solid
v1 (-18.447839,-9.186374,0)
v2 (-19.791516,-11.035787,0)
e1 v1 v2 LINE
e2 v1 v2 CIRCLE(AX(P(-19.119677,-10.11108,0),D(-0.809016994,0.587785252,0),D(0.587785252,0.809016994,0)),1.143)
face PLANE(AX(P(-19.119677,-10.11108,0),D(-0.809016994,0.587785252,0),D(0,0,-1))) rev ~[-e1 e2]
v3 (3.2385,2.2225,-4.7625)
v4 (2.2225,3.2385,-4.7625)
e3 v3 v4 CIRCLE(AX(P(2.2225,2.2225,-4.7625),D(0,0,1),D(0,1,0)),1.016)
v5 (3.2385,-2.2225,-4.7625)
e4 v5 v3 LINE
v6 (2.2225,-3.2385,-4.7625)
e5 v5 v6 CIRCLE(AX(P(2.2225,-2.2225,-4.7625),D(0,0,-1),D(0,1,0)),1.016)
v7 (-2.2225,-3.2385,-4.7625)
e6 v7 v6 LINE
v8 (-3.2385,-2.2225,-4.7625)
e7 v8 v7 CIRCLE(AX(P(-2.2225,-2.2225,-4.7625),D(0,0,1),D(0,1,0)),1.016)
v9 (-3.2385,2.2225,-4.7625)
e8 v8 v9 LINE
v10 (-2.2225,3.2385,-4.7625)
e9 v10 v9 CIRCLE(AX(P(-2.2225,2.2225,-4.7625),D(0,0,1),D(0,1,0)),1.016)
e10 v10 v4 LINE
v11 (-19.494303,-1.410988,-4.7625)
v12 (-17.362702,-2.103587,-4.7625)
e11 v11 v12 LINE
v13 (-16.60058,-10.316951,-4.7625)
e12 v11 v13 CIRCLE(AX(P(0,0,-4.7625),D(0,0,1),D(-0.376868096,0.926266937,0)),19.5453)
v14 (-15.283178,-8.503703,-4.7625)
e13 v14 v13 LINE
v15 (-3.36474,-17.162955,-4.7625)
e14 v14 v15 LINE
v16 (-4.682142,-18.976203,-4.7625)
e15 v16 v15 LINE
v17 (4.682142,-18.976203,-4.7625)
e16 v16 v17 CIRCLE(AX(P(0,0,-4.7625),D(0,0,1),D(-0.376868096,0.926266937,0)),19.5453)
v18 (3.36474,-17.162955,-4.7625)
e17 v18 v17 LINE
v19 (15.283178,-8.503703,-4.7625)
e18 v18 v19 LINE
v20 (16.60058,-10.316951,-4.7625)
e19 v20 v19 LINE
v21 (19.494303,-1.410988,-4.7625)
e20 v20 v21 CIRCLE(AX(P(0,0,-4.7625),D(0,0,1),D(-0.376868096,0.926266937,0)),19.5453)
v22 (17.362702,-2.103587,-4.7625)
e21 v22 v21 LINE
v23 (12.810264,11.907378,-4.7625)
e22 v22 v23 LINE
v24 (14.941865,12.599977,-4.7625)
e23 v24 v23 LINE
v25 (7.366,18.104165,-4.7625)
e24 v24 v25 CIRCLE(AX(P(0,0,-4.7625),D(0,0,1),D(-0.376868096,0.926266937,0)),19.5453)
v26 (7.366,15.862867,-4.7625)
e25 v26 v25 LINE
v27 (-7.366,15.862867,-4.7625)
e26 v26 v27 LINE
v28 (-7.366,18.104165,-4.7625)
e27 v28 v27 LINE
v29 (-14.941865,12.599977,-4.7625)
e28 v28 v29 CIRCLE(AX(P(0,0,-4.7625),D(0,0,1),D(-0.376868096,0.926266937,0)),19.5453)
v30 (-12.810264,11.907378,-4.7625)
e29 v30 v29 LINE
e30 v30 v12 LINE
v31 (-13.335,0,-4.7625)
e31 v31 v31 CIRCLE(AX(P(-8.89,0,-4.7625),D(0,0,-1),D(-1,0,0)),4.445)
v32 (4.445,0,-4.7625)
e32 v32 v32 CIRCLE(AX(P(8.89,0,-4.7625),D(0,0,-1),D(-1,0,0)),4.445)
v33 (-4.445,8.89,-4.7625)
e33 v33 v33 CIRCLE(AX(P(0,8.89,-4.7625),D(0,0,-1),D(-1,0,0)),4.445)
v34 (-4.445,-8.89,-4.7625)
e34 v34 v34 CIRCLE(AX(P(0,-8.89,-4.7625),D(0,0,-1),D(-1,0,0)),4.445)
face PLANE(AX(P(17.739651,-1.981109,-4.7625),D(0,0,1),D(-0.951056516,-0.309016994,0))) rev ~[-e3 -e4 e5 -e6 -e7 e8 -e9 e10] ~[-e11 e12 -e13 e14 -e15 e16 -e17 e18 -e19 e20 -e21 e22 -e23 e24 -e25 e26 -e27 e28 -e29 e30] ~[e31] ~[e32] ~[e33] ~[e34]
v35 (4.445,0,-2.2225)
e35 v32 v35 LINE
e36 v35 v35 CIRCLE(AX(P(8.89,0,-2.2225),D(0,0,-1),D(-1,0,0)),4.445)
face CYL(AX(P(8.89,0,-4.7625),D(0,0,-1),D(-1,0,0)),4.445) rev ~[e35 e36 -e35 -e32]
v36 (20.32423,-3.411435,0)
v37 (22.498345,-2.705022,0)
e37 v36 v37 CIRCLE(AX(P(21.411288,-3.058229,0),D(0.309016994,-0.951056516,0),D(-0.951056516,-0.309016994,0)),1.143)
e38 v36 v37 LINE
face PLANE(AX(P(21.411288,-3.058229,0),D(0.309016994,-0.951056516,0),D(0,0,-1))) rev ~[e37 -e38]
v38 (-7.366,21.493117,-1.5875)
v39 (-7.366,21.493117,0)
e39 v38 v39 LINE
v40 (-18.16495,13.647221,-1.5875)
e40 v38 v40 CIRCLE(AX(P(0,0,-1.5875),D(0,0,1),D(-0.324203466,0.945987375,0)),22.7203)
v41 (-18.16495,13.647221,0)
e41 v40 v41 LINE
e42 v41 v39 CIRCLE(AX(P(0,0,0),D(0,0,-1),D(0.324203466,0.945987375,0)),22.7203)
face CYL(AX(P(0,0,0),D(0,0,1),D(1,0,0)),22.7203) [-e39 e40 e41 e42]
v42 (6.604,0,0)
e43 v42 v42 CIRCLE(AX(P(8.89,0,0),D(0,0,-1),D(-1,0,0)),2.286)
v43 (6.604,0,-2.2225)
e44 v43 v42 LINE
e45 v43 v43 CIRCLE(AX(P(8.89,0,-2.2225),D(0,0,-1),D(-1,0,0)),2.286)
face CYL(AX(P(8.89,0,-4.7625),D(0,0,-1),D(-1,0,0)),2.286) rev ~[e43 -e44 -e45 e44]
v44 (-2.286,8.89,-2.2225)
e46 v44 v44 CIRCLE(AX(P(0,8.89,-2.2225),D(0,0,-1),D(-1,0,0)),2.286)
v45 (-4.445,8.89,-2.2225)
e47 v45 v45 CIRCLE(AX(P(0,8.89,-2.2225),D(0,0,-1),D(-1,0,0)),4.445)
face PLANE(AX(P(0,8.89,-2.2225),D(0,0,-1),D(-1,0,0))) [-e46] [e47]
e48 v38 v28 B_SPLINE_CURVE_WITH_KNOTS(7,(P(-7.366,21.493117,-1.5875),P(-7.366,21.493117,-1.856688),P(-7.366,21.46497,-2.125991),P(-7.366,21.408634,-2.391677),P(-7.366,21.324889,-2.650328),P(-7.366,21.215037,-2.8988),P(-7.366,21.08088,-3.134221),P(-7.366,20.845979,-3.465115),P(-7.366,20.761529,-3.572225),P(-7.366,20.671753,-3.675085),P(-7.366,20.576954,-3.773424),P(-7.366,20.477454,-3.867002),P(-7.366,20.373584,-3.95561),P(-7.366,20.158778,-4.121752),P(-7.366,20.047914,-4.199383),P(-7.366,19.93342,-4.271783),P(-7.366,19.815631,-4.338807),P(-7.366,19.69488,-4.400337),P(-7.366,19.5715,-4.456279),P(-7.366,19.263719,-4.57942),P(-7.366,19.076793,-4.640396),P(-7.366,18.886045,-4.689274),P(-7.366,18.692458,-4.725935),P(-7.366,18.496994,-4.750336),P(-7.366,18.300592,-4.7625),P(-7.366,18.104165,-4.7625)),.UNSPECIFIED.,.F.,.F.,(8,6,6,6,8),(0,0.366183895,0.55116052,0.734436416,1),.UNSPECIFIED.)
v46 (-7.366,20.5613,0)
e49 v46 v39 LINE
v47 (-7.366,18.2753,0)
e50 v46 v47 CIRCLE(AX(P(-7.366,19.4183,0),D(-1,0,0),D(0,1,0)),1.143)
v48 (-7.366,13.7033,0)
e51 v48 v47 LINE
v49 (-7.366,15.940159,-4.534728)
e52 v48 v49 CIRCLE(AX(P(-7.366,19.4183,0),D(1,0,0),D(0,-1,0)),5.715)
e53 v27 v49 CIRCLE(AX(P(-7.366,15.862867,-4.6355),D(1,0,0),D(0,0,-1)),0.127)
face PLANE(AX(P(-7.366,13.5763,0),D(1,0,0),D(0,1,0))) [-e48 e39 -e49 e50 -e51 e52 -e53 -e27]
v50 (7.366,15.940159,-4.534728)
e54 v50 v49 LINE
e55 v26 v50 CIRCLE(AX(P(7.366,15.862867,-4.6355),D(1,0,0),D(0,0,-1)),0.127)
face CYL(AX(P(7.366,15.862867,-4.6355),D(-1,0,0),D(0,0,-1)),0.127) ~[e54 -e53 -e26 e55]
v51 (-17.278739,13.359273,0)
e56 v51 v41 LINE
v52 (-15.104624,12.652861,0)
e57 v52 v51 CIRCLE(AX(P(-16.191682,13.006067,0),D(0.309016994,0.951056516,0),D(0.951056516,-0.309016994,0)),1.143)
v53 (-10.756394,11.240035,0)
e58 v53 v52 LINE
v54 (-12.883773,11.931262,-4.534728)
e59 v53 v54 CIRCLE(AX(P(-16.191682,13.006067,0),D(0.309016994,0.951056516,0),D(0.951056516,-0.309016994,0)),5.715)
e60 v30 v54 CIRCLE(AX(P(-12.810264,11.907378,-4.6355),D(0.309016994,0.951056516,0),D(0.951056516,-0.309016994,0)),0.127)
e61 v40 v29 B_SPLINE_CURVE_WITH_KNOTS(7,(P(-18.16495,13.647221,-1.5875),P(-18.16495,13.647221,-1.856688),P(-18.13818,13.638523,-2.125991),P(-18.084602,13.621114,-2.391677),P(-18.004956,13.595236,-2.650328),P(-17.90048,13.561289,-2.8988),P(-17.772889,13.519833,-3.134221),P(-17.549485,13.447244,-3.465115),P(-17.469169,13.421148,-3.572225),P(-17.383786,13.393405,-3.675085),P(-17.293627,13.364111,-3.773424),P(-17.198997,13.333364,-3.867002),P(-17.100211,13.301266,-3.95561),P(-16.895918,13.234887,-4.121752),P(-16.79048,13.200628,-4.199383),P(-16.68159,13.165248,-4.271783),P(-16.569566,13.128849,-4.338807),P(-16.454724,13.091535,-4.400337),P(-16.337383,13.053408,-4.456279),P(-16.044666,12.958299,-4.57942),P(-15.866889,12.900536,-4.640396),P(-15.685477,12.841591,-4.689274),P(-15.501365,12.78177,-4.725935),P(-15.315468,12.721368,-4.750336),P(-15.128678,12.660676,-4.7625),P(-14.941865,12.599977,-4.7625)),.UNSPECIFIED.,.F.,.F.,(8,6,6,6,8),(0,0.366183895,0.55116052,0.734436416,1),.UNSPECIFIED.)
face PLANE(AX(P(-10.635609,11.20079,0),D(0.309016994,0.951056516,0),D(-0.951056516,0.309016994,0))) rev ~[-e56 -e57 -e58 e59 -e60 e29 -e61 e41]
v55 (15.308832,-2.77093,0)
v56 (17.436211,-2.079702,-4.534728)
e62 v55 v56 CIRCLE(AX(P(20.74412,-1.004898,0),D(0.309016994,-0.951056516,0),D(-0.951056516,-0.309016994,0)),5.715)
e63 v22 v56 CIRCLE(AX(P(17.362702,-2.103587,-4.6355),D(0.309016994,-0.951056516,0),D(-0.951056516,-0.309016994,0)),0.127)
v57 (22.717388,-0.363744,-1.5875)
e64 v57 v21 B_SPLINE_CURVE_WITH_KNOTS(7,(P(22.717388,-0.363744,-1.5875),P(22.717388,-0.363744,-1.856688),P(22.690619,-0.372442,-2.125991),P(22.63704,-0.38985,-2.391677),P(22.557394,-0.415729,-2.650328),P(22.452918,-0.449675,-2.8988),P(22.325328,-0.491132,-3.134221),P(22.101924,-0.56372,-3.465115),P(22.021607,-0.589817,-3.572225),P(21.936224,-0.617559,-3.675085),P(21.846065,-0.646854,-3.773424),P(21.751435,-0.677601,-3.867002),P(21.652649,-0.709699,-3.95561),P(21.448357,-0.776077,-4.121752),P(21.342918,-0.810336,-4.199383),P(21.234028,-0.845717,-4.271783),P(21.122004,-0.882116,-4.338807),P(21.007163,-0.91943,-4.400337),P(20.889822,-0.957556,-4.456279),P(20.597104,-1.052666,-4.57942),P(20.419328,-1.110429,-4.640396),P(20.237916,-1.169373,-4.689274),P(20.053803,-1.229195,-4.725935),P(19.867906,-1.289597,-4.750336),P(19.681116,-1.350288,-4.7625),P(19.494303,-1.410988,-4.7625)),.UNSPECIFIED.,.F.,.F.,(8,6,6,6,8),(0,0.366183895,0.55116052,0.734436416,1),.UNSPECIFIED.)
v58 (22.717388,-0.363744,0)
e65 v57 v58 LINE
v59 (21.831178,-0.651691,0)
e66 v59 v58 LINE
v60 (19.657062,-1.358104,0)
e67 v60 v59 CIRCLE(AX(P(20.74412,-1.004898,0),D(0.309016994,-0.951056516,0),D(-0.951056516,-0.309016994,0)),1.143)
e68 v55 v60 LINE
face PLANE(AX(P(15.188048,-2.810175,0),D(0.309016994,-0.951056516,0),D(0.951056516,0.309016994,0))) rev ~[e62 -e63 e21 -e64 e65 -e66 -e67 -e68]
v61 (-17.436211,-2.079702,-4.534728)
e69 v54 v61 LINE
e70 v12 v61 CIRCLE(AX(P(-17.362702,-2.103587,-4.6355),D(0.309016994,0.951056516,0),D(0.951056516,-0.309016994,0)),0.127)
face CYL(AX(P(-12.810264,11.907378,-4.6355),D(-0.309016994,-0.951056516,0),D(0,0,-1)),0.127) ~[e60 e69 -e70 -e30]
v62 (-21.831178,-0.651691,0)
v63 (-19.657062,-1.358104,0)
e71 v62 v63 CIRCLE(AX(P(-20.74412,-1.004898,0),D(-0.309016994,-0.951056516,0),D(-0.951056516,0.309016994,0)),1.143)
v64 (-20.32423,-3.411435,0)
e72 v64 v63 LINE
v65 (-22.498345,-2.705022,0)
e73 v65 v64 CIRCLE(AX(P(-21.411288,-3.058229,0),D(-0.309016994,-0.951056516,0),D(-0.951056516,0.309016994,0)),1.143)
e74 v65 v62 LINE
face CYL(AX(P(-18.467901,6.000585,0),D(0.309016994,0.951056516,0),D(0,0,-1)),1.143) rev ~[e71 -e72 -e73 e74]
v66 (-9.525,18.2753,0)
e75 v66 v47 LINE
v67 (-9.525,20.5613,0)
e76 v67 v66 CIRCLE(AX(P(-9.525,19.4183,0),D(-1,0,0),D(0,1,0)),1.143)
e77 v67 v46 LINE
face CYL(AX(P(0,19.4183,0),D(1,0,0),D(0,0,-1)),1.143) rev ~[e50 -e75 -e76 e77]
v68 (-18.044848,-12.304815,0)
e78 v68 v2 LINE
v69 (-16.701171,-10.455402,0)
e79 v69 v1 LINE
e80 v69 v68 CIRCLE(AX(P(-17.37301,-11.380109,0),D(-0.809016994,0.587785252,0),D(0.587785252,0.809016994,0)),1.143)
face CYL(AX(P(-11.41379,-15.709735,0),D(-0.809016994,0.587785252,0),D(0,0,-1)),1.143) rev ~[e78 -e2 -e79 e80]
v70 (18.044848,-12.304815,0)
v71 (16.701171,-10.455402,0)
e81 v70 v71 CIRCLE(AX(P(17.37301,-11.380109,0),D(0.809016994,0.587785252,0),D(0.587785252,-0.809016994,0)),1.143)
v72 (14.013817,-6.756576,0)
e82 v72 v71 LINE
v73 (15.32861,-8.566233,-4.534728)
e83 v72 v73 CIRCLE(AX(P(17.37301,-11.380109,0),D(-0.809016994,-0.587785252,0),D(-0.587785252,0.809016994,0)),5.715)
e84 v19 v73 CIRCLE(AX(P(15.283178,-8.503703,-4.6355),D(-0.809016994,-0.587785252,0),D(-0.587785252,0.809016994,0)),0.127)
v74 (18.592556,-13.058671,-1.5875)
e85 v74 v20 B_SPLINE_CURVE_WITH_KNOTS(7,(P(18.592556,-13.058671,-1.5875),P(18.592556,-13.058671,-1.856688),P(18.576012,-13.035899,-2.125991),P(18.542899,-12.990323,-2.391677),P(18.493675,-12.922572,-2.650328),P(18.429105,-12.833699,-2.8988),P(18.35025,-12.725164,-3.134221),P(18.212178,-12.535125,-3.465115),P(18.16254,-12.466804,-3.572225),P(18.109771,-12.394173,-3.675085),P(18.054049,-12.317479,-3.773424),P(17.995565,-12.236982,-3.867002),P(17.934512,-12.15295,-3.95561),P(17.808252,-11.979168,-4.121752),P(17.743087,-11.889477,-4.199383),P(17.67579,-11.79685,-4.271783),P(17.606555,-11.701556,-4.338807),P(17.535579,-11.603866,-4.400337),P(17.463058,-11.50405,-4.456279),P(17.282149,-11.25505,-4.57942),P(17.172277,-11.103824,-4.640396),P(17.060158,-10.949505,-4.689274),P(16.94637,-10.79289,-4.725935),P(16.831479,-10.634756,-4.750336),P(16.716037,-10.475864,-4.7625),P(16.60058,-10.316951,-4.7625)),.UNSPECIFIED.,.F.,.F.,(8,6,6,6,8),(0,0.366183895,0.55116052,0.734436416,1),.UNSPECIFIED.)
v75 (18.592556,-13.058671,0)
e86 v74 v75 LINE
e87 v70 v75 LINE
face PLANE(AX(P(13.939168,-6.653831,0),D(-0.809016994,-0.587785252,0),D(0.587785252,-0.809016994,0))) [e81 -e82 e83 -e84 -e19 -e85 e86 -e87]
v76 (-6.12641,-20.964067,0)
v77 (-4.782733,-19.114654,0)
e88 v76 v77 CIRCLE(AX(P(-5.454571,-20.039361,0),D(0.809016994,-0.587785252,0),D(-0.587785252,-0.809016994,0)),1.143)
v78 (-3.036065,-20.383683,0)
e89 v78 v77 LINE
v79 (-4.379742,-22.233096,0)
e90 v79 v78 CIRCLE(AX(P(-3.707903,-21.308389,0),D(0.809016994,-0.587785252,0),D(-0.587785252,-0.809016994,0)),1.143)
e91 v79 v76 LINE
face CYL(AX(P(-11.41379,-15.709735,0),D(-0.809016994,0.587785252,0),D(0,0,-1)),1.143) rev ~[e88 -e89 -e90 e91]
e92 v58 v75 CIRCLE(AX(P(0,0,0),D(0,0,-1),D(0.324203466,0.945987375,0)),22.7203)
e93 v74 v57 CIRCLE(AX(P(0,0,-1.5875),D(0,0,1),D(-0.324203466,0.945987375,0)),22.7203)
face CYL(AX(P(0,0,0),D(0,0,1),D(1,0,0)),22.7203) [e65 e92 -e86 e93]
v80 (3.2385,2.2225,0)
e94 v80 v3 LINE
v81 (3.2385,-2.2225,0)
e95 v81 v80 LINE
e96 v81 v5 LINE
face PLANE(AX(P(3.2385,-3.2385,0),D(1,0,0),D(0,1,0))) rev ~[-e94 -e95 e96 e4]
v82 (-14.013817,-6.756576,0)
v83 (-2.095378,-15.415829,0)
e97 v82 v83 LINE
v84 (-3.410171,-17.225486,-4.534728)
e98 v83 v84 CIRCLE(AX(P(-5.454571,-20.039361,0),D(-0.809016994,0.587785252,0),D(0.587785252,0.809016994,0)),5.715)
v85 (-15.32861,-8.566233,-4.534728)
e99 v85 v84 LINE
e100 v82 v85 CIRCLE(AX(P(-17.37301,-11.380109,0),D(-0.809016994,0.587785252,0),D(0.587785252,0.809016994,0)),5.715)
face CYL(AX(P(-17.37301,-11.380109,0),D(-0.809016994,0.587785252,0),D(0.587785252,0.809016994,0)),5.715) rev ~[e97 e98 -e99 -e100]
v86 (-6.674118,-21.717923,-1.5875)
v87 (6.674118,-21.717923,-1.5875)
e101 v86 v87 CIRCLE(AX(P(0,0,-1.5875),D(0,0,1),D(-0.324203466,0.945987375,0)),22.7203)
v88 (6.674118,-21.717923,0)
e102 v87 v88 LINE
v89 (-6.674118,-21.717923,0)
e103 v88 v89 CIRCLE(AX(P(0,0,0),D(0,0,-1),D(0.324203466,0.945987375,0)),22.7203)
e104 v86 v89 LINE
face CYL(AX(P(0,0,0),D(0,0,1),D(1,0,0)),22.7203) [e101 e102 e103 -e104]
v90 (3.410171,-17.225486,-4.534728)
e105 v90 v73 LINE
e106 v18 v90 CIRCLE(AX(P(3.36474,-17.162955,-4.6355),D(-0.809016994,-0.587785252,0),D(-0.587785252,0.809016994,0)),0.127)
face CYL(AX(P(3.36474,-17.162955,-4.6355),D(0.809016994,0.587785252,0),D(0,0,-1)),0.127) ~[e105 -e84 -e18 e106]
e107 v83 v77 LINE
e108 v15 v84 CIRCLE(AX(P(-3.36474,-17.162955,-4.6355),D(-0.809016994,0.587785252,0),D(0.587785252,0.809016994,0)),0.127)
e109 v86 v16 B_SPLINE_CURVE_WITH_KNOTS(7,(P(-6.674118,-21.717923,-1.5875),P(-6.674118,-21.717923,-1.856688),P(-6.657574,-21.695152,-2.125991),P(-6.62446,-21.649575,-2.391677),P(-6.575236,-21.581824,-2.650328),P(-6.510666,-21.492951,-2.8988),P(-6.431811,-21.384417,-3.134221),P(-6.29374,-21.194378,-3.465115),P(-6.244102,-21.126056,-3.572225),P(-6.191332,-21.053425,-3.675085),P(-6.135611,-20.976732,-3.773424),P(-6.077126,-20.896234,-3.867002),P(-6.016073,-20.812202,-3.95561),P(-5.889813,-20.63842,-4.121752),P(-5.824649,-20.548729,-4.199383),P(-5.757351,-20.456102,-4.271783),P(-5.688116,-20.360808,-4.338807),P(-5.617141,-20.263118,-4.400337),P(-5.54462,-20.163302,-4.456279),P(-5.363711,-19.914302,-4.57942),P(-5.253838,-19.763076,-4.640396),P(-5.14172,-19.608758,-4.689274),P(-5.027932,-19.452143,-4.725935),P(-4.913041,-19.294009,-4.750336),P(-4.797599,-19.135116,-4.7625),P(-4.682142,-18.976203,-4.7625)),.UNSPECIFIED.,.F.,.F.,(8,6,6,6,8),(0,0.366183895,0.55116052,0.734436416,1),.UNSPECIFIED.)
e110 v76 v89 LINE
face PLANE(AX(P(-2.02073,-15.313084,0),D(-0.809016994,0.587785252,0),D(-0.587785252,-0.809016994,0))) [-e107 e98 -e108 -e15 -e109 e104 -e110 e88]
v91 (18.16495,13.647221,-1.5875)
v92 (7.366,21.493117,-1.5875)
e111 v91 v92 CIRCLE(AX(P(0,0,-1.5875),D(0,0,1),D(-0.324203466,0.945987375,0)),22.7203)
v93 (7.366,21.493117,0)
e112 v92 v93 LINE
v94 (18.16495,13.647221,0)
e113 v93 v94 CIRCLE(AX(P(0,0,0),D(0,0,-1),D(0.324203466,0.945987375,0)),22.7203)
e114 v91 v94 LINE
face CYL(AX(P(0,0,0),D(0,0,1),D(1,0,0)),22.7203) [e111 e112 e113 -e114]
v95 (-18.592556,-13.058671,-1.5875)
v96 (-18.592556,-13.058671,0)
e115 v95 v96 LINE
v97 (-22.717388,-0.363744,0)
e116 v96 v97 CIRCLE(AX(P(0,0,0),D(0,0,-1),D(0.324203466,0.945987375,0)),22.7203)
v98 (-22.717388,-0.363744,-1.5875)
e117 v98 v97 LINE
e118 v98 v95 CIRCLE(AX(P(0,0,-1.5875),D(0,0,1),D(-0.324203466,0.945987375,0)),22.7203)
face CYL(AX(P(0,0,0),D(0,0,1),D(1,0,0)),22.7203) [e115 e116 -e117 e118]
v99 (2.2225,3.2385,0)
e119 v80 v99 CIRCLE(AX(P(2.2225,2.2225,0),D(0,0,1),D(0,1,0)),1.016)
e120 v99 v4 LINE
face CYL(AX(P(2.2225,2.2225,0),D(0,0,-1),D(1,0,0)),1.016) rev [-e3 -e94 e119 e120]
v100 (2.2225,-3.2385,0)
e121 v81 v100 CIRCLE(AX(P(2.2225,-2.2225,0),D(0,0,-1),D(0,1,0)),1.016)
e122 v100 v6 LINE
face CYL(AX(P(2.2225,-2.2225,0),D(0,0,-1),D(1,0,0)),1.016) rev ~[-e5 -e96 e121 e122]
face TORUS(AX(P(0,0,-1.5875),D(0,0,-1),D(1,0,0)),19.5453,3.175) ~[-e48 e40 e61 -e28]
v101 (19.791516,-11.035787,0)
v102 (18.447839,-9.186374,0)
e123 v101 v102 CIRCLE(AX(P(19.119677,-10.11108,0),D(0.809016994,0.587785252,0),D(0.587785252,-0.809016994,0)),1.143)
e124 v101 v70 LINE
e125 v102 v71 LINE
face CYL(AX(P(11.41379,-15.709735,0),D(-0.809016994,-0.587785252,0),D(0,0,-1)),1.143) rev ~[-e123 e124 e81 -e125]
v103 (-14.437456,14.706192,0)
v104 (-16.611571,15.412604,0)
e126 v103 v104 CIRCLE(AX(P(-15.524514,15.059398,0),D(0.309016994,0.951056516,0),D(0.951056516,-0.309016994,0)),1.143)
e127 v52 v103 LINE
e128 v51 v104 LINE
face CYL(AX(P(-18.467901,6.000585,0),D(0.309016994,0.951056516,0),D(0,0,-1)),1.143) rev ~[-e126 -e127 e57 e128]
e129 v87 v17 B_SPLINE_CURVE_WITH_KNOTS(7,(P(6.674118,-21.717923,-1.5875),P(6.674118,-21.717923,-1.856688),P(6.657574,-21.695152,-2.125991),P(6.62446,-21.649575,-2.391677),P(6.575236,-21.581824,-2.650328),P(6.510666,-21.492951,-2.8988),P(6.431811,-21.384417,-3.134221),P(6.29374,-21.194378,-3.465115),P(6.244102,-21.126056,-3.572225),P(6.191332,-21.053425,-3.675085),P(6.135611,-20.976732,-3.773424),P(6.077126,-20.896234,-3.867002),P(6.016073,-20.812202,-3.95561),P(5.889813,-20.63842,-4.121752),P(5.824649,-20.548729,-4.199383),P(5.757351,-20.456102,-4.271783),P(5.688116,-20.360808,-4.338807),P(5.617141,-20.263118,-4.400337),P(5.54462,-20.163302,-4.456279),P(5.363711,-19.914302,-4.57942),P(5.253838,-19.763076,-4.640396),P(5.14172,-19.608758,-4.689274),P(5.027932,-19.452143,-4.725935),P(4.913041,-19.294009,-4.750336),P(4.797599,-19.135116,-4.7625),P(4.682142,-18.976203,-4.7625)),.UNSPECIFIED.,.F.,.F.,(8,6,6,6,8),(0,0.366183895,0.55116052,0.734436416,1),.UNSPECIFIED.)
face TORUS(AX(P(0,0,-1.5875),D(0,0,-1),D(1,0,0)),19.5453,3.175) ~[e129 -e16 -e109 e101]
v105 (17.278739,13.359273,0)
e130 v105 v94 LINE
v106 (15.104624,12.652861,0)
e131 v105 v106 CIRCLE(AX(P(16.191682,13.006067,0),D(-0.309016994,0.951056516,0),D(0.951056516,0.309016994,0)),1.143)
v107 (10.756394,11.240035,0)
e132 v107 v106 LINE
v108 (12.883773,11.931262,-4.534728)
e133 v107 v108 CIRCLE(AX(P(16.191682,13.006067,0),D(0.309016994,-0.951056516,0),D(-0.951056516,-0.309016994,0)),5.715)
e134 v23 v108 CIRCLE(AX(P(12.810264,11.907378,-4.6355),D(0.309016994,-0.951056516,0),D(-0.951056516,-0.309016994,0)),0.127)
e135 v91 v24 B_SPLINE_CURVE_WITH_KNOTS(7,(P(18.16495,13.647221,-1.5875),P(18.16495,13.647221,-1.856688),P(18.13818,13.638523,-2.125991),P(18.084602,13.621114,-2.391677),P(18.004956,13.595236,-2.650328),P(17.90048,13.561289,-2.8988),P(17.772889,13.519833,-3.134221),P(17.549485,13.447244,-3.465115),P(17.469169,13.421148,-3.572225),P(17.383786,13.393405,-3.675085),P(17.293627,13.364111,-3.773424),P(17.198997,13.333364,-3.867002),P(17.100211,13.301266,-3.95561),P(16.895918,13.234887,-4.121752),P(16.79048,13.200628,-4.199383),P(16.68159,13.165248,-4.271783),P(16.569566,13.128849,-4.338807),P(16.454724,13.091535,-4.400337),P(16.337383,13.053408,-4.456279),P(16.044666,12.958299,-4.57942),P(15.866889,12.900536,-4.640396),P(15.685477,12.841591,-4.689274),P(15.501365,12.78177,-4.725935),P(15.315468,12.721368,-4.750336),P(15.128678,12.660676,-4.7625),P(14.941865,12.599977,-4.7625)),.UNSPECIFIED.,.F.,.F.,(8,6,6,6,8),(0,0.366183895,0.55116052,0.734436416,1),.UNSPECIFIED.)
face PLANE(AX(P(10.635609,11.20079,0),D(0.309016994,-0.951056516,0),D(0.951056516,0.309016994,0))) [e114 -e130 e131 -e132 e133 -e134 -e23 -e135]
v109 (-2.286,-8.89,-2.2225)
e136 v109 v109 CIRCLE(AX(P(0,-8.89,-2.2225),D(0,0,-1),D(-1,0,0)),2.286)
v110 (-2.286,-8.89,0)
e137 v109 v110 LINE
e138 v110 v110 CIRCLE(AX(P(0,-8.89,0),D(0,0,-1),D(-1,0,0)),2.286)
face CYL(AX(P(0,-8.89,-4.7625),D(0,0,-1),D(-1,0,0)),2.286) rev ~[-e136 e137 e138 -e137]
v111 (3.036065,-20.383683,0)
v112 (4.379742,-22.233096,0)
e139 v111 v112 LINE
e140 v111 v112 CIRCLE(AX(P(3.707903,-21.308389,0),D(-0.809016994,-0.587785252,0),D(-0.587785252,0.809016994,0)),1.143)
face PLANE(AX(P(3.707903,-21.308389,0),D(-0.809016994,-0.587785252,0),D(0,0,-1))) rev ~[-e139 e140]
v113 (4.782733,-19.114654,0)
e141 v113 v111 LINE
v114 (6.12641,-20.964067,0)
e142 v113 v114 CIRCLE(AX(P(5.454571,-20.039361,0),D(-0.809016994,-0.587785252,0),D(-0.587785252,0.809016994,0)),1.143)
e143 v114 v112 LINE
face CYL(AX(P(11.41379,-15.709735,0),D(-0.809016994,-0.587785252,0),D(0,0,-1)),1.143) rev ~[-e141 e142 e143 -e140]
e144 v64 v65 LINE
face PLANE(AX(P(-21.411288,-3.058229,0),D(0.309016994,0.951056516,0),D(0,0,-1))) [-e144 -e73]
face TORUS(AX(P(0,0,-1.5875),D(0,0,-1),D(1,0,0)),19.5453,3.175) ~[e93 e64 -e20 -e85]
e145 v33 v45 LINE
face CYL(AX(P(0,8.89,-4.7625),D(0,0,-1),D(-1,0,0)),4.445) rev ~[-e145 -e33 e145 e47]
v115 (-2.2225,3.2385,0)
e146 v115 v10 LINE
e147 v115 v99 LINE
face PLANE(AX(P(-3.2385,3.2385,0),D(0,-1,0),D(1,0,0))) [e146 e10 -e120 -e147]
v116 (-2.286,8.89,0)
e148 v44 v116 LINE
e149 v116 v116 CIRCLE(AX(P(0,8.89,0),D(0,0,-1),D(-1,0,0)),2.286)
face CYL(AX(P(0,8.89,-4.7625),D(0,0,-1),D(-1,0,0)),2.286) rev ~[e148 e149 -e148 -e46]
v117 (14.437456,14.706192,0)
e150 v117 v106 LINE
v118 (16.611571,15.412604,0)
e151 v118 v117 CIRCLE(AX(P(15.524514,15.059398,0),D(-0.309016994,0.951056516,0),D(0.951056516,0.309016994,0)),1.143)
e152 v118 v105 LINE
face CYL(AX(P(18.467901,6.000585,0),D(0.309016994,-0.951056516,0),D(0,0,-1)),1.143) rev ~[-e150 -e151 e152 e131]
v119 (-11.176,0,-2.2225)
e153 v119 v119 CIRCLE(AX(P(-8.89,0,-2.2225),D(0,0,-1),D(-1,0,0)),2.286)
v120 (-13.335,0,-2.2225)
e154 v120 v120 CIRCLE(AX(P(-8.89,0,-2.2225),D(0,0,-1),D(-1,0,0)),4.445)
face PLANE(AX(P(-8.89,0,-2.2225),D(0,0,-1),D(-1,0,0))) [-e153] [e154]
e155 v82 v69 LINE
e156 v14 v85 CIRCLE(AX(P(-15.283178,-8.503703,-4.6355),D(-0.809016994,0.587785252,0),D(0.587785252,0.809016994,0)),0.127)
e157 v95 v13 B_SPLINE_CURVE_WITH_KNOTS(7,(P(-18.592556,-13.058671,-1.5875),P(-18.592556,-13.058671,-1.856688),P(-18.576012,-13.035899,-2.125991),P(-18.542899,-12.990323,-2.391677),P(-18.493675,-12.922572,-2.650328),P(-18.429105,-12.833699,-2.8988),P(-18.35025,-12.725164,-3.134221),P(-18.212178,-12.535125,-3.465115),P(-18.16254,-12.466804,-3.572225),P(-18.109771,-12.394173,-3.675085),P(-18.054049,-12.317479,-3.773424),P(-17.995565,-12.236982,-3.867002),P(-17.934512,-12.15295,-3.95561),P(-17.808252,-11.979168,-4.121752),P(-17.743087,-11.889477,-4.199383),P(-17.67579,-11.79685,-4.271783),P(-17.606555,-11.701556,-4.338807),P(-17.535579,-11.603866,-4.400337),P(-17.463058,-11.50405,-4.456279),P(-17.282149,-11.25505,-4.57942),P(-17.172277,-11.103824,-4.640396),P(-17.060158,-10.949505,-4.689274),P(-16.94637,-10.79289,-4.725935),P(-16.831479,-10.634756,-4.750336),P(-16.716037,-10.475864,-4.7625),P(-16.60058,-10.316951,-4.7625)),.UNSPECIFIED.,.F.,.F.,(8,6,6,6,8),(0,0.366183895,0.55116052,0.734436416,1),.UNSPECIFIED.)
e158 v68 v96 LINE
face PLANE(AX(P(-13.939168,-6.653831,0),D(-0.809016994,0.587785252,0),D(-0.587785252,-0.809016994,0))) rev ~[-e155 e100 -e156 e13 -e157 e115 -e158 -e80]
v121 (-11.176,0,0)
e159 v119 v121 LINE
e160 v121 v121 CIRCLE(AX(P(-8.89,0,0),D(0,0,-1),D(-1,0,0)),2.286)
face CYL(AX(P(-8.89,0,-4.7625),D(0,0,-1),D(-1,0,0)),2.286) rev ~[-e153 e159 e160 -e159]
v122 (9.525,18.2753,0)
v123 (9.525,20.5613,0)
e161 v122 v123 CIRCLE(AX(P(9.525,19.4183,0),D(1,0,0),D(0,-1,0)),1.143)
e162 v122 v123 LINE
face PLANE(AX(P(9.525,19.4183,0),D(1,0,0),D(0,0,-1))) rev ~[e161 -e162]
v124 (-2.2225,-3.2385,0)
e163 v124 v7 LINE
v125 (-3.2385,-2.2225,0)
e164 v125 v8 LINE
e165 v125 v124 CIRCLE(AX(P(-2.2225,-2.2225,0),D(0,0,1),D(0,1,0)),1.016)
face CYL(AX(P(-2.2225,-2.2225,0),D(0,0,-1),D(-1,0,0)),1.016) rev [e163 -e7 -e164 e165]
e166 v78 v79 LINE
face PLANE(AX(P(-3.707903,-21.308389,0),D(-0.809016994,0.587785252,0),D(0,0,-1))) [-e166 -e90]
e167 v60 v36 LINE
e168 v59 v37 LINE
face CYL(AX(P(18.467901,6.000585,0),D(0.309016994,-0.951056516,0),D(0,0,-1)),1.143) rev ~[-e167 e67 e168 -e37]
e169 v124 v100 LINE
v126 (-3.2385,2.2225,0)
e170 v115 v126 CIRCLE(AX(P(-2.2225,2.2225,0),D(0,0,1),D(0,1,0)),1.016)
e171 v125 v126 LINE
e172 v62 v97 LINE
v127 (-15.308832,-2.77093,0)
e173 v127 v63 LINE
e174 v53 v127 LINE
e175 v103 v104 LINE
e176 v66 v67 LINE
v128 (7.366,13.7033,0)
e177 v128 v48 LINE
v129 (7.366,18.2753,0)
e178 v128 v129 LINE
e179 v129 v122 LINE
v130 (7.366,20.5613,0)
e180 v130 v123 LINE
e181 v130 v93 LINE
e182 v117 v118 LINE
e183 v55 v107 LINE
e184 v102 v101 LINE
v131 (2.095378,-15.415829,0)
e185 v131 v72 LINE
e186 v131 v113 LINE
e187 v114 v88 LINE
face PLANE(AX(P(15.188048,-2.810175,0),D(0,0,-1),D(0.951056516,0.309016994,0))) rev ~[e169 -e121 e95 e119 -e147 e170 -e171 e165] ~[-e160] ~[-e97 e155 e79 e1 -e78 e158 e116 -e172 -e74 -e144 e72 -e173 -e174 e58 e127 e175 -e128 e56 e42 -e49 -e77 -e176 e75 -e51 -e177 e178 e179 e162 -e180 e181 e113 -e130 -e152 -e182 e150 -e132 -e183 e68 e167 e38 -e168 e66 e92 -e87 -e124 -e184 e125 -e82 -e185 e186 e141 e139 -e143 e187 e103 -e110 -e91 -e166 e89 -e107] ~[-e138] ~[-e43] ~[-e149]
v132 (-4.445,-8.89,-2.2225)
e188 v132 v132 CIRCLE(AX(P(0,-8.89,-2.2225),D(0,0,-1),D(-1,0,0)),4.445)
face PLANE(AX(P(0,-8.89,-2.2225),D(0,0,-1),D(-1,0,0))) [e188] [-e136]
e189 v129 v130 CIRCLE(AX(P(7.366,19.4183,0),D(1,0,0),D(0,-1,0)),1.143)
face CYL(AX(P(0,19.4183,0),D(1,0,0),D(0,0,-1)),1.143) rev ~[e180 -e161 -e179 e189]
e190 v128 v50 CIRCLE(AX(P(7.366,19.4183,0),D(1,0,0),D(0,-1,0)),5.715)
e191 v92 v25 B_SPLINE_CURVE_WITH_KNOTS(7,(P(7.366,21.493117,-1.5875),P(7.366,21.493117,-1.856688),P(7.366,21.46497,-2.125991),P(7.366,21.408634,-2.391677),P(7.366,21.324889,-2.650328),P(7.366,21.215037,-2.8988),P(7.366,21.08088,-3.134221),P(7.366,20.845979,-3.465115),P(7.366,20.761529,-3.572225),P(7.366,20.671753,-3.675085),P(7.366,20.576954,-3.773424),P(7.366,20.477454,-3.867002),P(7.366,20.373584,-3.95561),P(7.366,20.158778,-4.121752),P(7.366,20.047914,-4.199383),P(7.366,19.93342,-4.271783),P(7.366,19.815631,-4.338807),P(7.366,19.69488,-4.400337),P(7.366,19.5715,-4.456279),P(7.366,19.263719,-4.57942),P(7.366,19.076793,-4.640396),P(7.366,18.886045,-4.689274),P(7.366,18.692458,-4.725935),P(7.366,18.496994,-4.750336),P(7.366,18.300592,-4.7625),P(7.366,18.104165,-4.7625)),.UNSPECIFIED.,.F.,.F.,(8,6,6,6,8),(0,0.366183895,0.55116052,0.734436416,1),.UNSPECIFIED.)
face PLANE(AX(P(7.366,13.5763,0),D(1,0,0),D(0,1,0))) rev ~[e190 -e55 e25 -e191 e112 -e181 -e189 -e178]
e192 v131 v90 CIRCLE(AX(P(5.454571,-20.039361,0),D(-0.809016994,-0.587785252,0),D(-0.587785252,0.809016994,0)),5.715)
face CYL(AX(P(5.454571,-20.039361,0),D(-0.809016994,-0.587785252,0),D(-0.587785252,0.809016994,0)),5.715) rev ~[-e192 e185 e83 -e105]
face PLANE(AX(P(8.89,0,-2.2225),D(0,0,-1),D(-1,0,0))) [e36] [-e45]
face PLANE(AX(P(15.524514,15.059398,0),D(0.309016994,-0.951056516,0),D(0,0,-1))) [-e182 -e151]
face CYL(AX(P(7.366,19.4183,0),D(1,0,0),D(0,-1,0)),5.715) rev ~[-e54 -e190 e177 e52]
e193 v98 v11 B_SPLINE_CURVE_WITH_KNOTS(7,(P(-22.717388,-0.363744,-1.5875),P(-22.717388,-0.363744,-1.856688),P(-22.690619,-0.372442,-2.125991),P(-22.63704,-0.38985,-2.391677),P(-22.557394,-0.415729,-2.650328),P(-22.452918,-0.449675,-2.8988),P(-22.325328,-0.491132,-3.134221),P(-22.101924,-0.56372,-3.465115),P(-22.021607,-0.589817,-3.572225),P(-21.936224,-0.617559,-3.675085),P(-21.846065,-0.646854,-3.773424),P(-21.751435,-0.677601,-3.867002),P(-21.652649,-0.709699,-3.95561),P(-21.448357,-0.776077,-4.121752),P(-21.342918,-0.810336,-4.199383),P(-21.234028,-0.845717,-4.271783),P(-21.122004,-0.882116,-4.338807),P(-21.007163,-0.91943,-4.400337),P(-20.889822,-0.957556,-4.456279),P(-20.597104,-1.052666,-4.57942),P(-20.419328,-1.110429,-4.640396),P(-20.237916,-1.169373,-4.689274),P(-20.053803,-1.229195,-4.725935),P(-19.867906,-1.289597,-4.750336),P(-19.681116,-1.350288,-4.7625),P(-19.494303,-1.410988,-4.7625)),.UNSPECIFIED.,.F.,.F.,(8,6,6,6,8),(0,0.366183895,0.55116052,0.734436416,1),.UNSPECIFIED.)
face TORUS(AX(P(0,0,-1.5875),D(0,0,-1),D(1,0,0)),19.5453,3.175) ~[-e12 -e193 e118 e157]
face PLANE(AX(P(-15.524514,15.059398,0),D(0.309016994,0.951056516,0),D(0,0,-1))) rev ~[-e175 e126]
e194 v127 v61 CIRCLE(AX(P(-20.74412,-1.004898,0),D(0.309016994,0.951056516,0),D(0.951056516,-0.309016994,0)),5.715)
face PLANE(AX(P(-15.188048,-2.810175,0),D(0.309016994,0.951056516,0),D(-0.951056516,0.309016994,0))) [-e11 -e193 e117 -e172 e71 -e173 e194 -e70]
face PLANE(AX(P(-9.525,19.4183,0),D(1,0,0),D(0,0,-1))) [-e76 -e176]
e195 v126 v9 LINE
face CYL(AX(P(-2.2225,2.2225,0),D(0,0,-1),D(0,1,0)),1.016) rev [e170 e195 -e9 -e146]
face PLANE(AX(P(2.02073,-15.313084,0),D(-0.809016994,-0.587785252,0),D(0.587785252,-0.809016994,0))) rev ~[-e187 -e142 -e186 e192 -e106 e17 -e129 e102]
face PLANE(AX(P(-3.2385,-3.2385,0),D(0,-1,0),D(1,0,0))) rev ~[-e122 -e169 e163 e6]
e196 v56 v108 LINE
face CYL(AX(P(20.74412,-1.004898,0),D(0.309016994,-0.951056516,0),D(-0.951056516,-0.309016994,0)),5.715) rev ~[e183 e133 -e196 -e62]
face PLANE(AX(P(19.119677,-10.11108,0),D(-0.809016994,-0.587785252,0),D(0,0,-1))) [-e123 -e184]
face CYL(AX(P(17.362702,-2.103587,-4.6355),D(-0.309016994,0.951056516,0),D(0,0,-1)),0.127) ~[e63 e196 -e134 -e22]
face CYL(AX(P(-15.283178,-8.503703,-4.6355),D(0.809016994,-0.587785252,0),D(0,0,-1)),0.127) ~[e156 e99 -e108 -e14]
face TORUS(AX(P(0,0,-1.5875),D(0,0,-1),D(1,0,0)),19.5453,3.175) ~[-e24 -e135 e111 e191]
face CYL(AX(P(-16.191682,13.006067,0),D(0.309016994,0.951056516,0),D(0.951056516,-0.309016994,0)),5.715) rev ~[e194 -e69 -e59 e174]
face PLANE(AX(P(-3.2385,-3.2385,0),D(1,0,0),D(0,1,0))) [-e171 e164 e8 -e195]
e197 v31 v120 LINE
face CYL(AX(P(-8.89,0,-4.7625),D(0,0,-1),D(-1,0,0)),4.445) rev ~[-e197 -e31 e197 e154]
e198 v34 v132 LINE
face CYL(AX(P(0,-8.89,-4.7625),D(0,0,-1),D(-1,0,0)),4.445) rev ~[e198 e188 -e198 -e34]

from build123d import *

# Parameters (mm, degrees)
SKETCH1_R                = 22.7203
BOSS_EXTRUDE2_DEPTH      = 4.7625
FILLET1_R                = 3.175
SKETCH2_W                = 14.732
SKETCH2_H                = 10.414
CUT_EXTRUDE2_DEPTH       = 12.7
CIRPATTERN1_COUNT        = 5
SKETCH4_R                = 1.143
CUT_EXTRUDE4_DEPTH       = 9.525
CIRPATTERN2_COUNT        = 5
SKETCH5_W                = 6.477
SKETCH5_H                = 6.477
CUT_EXTRUDE5_DEPTH       = 33.480350535
SKETCH6_R                = 2.286
CUT_EXTRUDE7_DEPTH       = 33.480350535
SKETCH7_R                = 4.445
CUT_EXTRUDE8_DEPTH       = 2.54
BOSS_EXTRUDE4_REACH      = 39.999
FILLET2_R                = 0.127
CIRPATTERN5_COUNT        = 5
FILLET2_OF_CIRPATTERN5_R = 0.127
FILLET3_R                = 1.016


with BuildPart() as part:
    # Sketch1 → Boss-Extrude2 (new body)
    with BuildSketch(Plane.XY):
        Circle(SKETCH1_R)
    extrude(amount=-BOSS_EXTRUDE2_DEPTH)

    # Fillet1
    fillet1_edges = [part.edges().sort_by_distance(p)[0] for p in [
        (-22.7203, 0, -4.7625),
    ]]
    fillet(fillet1_edges, radius=FILLET1_R)

    # Sketch2 → Cut-Extrude2 (cut)
    with BuildSketch(Plane.XY):
        with Locations((0, 18.7833)):
            Rectangle(SKETCH2_W, SKETCH2_H)
    cut_extrude2 = extrude(amount=-CUT_EXTRUDE2_DEPTH, mode=Mode.SUBTRACT)

    # CirPattern1: Cut-Extrude2 ×5 about axis
    cirpattern1_axis = Axis((0, 0, 0), (0, 0, 1))
    for i in range(1, CIRPATTERN1_COUNT):
        add(cut_extrude2.rotate(cirpattern1_axis, i * 360 / CIRPATTERN1_COUNT), mode=Mode.SUBTRACT)

    # Sketch4 → Cut-Extrude4 (cut, symmetric)
    with BuildSketch(Plane(origin=(0, 0, 0), x_dir=(0, 0, -1), z_dir=(1, 0, 0))):
        with Locations((0, 19.4183)):
            Circle(SKETCH4_R)
    cut_extrude4 = extrude(amount=CUT_EXTRUDE4_DEPTH, both=True, mode=Mode.SUBTRACT)

    # CirPattern2: Cut-Extrude4 ×5 about axis
    cirpattern2_axis = Axis((0, 0, 0), (0, 0, 1))
    for i in range(1, CIRPATTERN2_COUNT):
        add(cut_extrude4.rotate(cirpattern2_axis, i * 360 / CIRPATTERN2_COUNT), mode=Mode.SUBTRACT)

    # Sketch5 → Cut-Extrude5 (cut, through all)
    with BuildSketch(Plane.XY):
        Rectangle(SKETCH5_W, SKETCH5_H)
    extrude(amount=-CUT_EXTRUDE5_DEPTH, mode=Mode.SUBTRACT)

    # Sketch6 → Cut-Extrude7 (cut, through all)
    with BuildSketch(Plane(origin=(0, 0, -4.7625), x_dir=(-1, 0, 0), z_dir=(0, 0, -1))):
        with Locations((0, 8.89)):
            Circle(SKETCH6_R)
        with Locations((8.89, 0)):
            Circle(SKETCH6_R)
        with Locations((0, -8.89)):
            Circle(SKETCH6_R)
        with Locations((-8.89, 0)):
            Circle(SKETCH6_R)
    extrude(amount=-CUT_EXTRUDE7_DEPTH, mode=Mode.SUBTRACT)

    # Sketch7 → Cut-Extrude8 (cut)
    with BuildSketch(Plane(origin=(0, 0, -4.7625), x_dir=(-1, 0, 0), z_dir=(0, 0, -1))):
        with Locations((-8.89, 0)):
            Circle(SKETCH7_R)
        with Locations((8.89, 0)):
            Circle(SKETCH7_R)
        with Locations((0, -8.89)):
            Circle(SKETCH7_R)
        with Locations((0, 8.89)):
            Circle(SKETCH7_R)
    extrude(amount=-CUT_EXTRUDE8_DEPTH, mode=Mode.SUBTRACT)

    # Sketch10 → Boss-Extrude4 (add, up to next)
    with BuildSketch(Plane.ZY.offset(-7.366), mode=Mode.PRIVATE) as boss_extrude4_sk1:
        with BuildLine():
            Line((-4.7625, 13.5763), (0, 13.5763))
            Line((0, 13.5763), (0, 13.7033))
            ThreePointArc((0, 13.7033), (-2.7025038, 14.38265722), (-4.7625, 16.259214887))
            Line((-4.7625, 16.259214887), (-4.7625, 13.5763))
        make_face()
    boss_extrude4_tool1 = extrude(boss_extrude4_sk1.sketch, amount=BOSS_EXTRUDE4_REACH, mode=Mode.PRIVATE) - part.part
    boss_extrude4 = boss_extrude4_tool1.solids().sort_by_distance((7.366, 14.314807, -3.452063))[0]
    add(boss_extrude4)

    # Fillet2
    fillet2_edges = [part.edges().sort_by_distance(p)[0] for p in [
        (0, 16.259214887, -4.7625),
    ]]
    fillet(fillet2_edges, radius=FILLET2_R)

    # CirPattern5: Boss-Extrude4 ×5 about axis
    cirpattern5_axis = Axis((0, 0, 0), (0, 0, 1))
    for i in range(1, CIRPATTERN5_COUNT):
        add(boss_extrude4.rotate(cirpattern5_axis, i * 360 / CIRPATTERN5_COUNT))

    # Fillet2 of CirPattern5
    fillet2_of_cirpattern5_edges = [part.edges().sort_by_distance(p)[0] for p in [
        (-15.463432268, 5.024373715, -4.7625),
        (-9.556926725, -13.153981159, -4.7625),
        (9.556926725, -13.153981159, -4.7625),
        (15.463432268, 5.024373715, -4.7625),
    ]]
    fillet(fillet2_of_cirpattern5_edges, radius=FILLET2_OF_CIRPATTERN5_R)

    # Fillet3
    fillet3_edges = [part.edges().sort_by_distance(p)[0] for p in [
        (3.2385, 3.2385, -2.38125),
        (3.2385, -3.2385, -2.38125),
        (-3.2385, -3.2385, -2.38125),
        (-3.2385, 3.2385, -2.38125),
    ]]
    fillet(fillet3_edges, radius=FILLET3_R)


solid = part.part
